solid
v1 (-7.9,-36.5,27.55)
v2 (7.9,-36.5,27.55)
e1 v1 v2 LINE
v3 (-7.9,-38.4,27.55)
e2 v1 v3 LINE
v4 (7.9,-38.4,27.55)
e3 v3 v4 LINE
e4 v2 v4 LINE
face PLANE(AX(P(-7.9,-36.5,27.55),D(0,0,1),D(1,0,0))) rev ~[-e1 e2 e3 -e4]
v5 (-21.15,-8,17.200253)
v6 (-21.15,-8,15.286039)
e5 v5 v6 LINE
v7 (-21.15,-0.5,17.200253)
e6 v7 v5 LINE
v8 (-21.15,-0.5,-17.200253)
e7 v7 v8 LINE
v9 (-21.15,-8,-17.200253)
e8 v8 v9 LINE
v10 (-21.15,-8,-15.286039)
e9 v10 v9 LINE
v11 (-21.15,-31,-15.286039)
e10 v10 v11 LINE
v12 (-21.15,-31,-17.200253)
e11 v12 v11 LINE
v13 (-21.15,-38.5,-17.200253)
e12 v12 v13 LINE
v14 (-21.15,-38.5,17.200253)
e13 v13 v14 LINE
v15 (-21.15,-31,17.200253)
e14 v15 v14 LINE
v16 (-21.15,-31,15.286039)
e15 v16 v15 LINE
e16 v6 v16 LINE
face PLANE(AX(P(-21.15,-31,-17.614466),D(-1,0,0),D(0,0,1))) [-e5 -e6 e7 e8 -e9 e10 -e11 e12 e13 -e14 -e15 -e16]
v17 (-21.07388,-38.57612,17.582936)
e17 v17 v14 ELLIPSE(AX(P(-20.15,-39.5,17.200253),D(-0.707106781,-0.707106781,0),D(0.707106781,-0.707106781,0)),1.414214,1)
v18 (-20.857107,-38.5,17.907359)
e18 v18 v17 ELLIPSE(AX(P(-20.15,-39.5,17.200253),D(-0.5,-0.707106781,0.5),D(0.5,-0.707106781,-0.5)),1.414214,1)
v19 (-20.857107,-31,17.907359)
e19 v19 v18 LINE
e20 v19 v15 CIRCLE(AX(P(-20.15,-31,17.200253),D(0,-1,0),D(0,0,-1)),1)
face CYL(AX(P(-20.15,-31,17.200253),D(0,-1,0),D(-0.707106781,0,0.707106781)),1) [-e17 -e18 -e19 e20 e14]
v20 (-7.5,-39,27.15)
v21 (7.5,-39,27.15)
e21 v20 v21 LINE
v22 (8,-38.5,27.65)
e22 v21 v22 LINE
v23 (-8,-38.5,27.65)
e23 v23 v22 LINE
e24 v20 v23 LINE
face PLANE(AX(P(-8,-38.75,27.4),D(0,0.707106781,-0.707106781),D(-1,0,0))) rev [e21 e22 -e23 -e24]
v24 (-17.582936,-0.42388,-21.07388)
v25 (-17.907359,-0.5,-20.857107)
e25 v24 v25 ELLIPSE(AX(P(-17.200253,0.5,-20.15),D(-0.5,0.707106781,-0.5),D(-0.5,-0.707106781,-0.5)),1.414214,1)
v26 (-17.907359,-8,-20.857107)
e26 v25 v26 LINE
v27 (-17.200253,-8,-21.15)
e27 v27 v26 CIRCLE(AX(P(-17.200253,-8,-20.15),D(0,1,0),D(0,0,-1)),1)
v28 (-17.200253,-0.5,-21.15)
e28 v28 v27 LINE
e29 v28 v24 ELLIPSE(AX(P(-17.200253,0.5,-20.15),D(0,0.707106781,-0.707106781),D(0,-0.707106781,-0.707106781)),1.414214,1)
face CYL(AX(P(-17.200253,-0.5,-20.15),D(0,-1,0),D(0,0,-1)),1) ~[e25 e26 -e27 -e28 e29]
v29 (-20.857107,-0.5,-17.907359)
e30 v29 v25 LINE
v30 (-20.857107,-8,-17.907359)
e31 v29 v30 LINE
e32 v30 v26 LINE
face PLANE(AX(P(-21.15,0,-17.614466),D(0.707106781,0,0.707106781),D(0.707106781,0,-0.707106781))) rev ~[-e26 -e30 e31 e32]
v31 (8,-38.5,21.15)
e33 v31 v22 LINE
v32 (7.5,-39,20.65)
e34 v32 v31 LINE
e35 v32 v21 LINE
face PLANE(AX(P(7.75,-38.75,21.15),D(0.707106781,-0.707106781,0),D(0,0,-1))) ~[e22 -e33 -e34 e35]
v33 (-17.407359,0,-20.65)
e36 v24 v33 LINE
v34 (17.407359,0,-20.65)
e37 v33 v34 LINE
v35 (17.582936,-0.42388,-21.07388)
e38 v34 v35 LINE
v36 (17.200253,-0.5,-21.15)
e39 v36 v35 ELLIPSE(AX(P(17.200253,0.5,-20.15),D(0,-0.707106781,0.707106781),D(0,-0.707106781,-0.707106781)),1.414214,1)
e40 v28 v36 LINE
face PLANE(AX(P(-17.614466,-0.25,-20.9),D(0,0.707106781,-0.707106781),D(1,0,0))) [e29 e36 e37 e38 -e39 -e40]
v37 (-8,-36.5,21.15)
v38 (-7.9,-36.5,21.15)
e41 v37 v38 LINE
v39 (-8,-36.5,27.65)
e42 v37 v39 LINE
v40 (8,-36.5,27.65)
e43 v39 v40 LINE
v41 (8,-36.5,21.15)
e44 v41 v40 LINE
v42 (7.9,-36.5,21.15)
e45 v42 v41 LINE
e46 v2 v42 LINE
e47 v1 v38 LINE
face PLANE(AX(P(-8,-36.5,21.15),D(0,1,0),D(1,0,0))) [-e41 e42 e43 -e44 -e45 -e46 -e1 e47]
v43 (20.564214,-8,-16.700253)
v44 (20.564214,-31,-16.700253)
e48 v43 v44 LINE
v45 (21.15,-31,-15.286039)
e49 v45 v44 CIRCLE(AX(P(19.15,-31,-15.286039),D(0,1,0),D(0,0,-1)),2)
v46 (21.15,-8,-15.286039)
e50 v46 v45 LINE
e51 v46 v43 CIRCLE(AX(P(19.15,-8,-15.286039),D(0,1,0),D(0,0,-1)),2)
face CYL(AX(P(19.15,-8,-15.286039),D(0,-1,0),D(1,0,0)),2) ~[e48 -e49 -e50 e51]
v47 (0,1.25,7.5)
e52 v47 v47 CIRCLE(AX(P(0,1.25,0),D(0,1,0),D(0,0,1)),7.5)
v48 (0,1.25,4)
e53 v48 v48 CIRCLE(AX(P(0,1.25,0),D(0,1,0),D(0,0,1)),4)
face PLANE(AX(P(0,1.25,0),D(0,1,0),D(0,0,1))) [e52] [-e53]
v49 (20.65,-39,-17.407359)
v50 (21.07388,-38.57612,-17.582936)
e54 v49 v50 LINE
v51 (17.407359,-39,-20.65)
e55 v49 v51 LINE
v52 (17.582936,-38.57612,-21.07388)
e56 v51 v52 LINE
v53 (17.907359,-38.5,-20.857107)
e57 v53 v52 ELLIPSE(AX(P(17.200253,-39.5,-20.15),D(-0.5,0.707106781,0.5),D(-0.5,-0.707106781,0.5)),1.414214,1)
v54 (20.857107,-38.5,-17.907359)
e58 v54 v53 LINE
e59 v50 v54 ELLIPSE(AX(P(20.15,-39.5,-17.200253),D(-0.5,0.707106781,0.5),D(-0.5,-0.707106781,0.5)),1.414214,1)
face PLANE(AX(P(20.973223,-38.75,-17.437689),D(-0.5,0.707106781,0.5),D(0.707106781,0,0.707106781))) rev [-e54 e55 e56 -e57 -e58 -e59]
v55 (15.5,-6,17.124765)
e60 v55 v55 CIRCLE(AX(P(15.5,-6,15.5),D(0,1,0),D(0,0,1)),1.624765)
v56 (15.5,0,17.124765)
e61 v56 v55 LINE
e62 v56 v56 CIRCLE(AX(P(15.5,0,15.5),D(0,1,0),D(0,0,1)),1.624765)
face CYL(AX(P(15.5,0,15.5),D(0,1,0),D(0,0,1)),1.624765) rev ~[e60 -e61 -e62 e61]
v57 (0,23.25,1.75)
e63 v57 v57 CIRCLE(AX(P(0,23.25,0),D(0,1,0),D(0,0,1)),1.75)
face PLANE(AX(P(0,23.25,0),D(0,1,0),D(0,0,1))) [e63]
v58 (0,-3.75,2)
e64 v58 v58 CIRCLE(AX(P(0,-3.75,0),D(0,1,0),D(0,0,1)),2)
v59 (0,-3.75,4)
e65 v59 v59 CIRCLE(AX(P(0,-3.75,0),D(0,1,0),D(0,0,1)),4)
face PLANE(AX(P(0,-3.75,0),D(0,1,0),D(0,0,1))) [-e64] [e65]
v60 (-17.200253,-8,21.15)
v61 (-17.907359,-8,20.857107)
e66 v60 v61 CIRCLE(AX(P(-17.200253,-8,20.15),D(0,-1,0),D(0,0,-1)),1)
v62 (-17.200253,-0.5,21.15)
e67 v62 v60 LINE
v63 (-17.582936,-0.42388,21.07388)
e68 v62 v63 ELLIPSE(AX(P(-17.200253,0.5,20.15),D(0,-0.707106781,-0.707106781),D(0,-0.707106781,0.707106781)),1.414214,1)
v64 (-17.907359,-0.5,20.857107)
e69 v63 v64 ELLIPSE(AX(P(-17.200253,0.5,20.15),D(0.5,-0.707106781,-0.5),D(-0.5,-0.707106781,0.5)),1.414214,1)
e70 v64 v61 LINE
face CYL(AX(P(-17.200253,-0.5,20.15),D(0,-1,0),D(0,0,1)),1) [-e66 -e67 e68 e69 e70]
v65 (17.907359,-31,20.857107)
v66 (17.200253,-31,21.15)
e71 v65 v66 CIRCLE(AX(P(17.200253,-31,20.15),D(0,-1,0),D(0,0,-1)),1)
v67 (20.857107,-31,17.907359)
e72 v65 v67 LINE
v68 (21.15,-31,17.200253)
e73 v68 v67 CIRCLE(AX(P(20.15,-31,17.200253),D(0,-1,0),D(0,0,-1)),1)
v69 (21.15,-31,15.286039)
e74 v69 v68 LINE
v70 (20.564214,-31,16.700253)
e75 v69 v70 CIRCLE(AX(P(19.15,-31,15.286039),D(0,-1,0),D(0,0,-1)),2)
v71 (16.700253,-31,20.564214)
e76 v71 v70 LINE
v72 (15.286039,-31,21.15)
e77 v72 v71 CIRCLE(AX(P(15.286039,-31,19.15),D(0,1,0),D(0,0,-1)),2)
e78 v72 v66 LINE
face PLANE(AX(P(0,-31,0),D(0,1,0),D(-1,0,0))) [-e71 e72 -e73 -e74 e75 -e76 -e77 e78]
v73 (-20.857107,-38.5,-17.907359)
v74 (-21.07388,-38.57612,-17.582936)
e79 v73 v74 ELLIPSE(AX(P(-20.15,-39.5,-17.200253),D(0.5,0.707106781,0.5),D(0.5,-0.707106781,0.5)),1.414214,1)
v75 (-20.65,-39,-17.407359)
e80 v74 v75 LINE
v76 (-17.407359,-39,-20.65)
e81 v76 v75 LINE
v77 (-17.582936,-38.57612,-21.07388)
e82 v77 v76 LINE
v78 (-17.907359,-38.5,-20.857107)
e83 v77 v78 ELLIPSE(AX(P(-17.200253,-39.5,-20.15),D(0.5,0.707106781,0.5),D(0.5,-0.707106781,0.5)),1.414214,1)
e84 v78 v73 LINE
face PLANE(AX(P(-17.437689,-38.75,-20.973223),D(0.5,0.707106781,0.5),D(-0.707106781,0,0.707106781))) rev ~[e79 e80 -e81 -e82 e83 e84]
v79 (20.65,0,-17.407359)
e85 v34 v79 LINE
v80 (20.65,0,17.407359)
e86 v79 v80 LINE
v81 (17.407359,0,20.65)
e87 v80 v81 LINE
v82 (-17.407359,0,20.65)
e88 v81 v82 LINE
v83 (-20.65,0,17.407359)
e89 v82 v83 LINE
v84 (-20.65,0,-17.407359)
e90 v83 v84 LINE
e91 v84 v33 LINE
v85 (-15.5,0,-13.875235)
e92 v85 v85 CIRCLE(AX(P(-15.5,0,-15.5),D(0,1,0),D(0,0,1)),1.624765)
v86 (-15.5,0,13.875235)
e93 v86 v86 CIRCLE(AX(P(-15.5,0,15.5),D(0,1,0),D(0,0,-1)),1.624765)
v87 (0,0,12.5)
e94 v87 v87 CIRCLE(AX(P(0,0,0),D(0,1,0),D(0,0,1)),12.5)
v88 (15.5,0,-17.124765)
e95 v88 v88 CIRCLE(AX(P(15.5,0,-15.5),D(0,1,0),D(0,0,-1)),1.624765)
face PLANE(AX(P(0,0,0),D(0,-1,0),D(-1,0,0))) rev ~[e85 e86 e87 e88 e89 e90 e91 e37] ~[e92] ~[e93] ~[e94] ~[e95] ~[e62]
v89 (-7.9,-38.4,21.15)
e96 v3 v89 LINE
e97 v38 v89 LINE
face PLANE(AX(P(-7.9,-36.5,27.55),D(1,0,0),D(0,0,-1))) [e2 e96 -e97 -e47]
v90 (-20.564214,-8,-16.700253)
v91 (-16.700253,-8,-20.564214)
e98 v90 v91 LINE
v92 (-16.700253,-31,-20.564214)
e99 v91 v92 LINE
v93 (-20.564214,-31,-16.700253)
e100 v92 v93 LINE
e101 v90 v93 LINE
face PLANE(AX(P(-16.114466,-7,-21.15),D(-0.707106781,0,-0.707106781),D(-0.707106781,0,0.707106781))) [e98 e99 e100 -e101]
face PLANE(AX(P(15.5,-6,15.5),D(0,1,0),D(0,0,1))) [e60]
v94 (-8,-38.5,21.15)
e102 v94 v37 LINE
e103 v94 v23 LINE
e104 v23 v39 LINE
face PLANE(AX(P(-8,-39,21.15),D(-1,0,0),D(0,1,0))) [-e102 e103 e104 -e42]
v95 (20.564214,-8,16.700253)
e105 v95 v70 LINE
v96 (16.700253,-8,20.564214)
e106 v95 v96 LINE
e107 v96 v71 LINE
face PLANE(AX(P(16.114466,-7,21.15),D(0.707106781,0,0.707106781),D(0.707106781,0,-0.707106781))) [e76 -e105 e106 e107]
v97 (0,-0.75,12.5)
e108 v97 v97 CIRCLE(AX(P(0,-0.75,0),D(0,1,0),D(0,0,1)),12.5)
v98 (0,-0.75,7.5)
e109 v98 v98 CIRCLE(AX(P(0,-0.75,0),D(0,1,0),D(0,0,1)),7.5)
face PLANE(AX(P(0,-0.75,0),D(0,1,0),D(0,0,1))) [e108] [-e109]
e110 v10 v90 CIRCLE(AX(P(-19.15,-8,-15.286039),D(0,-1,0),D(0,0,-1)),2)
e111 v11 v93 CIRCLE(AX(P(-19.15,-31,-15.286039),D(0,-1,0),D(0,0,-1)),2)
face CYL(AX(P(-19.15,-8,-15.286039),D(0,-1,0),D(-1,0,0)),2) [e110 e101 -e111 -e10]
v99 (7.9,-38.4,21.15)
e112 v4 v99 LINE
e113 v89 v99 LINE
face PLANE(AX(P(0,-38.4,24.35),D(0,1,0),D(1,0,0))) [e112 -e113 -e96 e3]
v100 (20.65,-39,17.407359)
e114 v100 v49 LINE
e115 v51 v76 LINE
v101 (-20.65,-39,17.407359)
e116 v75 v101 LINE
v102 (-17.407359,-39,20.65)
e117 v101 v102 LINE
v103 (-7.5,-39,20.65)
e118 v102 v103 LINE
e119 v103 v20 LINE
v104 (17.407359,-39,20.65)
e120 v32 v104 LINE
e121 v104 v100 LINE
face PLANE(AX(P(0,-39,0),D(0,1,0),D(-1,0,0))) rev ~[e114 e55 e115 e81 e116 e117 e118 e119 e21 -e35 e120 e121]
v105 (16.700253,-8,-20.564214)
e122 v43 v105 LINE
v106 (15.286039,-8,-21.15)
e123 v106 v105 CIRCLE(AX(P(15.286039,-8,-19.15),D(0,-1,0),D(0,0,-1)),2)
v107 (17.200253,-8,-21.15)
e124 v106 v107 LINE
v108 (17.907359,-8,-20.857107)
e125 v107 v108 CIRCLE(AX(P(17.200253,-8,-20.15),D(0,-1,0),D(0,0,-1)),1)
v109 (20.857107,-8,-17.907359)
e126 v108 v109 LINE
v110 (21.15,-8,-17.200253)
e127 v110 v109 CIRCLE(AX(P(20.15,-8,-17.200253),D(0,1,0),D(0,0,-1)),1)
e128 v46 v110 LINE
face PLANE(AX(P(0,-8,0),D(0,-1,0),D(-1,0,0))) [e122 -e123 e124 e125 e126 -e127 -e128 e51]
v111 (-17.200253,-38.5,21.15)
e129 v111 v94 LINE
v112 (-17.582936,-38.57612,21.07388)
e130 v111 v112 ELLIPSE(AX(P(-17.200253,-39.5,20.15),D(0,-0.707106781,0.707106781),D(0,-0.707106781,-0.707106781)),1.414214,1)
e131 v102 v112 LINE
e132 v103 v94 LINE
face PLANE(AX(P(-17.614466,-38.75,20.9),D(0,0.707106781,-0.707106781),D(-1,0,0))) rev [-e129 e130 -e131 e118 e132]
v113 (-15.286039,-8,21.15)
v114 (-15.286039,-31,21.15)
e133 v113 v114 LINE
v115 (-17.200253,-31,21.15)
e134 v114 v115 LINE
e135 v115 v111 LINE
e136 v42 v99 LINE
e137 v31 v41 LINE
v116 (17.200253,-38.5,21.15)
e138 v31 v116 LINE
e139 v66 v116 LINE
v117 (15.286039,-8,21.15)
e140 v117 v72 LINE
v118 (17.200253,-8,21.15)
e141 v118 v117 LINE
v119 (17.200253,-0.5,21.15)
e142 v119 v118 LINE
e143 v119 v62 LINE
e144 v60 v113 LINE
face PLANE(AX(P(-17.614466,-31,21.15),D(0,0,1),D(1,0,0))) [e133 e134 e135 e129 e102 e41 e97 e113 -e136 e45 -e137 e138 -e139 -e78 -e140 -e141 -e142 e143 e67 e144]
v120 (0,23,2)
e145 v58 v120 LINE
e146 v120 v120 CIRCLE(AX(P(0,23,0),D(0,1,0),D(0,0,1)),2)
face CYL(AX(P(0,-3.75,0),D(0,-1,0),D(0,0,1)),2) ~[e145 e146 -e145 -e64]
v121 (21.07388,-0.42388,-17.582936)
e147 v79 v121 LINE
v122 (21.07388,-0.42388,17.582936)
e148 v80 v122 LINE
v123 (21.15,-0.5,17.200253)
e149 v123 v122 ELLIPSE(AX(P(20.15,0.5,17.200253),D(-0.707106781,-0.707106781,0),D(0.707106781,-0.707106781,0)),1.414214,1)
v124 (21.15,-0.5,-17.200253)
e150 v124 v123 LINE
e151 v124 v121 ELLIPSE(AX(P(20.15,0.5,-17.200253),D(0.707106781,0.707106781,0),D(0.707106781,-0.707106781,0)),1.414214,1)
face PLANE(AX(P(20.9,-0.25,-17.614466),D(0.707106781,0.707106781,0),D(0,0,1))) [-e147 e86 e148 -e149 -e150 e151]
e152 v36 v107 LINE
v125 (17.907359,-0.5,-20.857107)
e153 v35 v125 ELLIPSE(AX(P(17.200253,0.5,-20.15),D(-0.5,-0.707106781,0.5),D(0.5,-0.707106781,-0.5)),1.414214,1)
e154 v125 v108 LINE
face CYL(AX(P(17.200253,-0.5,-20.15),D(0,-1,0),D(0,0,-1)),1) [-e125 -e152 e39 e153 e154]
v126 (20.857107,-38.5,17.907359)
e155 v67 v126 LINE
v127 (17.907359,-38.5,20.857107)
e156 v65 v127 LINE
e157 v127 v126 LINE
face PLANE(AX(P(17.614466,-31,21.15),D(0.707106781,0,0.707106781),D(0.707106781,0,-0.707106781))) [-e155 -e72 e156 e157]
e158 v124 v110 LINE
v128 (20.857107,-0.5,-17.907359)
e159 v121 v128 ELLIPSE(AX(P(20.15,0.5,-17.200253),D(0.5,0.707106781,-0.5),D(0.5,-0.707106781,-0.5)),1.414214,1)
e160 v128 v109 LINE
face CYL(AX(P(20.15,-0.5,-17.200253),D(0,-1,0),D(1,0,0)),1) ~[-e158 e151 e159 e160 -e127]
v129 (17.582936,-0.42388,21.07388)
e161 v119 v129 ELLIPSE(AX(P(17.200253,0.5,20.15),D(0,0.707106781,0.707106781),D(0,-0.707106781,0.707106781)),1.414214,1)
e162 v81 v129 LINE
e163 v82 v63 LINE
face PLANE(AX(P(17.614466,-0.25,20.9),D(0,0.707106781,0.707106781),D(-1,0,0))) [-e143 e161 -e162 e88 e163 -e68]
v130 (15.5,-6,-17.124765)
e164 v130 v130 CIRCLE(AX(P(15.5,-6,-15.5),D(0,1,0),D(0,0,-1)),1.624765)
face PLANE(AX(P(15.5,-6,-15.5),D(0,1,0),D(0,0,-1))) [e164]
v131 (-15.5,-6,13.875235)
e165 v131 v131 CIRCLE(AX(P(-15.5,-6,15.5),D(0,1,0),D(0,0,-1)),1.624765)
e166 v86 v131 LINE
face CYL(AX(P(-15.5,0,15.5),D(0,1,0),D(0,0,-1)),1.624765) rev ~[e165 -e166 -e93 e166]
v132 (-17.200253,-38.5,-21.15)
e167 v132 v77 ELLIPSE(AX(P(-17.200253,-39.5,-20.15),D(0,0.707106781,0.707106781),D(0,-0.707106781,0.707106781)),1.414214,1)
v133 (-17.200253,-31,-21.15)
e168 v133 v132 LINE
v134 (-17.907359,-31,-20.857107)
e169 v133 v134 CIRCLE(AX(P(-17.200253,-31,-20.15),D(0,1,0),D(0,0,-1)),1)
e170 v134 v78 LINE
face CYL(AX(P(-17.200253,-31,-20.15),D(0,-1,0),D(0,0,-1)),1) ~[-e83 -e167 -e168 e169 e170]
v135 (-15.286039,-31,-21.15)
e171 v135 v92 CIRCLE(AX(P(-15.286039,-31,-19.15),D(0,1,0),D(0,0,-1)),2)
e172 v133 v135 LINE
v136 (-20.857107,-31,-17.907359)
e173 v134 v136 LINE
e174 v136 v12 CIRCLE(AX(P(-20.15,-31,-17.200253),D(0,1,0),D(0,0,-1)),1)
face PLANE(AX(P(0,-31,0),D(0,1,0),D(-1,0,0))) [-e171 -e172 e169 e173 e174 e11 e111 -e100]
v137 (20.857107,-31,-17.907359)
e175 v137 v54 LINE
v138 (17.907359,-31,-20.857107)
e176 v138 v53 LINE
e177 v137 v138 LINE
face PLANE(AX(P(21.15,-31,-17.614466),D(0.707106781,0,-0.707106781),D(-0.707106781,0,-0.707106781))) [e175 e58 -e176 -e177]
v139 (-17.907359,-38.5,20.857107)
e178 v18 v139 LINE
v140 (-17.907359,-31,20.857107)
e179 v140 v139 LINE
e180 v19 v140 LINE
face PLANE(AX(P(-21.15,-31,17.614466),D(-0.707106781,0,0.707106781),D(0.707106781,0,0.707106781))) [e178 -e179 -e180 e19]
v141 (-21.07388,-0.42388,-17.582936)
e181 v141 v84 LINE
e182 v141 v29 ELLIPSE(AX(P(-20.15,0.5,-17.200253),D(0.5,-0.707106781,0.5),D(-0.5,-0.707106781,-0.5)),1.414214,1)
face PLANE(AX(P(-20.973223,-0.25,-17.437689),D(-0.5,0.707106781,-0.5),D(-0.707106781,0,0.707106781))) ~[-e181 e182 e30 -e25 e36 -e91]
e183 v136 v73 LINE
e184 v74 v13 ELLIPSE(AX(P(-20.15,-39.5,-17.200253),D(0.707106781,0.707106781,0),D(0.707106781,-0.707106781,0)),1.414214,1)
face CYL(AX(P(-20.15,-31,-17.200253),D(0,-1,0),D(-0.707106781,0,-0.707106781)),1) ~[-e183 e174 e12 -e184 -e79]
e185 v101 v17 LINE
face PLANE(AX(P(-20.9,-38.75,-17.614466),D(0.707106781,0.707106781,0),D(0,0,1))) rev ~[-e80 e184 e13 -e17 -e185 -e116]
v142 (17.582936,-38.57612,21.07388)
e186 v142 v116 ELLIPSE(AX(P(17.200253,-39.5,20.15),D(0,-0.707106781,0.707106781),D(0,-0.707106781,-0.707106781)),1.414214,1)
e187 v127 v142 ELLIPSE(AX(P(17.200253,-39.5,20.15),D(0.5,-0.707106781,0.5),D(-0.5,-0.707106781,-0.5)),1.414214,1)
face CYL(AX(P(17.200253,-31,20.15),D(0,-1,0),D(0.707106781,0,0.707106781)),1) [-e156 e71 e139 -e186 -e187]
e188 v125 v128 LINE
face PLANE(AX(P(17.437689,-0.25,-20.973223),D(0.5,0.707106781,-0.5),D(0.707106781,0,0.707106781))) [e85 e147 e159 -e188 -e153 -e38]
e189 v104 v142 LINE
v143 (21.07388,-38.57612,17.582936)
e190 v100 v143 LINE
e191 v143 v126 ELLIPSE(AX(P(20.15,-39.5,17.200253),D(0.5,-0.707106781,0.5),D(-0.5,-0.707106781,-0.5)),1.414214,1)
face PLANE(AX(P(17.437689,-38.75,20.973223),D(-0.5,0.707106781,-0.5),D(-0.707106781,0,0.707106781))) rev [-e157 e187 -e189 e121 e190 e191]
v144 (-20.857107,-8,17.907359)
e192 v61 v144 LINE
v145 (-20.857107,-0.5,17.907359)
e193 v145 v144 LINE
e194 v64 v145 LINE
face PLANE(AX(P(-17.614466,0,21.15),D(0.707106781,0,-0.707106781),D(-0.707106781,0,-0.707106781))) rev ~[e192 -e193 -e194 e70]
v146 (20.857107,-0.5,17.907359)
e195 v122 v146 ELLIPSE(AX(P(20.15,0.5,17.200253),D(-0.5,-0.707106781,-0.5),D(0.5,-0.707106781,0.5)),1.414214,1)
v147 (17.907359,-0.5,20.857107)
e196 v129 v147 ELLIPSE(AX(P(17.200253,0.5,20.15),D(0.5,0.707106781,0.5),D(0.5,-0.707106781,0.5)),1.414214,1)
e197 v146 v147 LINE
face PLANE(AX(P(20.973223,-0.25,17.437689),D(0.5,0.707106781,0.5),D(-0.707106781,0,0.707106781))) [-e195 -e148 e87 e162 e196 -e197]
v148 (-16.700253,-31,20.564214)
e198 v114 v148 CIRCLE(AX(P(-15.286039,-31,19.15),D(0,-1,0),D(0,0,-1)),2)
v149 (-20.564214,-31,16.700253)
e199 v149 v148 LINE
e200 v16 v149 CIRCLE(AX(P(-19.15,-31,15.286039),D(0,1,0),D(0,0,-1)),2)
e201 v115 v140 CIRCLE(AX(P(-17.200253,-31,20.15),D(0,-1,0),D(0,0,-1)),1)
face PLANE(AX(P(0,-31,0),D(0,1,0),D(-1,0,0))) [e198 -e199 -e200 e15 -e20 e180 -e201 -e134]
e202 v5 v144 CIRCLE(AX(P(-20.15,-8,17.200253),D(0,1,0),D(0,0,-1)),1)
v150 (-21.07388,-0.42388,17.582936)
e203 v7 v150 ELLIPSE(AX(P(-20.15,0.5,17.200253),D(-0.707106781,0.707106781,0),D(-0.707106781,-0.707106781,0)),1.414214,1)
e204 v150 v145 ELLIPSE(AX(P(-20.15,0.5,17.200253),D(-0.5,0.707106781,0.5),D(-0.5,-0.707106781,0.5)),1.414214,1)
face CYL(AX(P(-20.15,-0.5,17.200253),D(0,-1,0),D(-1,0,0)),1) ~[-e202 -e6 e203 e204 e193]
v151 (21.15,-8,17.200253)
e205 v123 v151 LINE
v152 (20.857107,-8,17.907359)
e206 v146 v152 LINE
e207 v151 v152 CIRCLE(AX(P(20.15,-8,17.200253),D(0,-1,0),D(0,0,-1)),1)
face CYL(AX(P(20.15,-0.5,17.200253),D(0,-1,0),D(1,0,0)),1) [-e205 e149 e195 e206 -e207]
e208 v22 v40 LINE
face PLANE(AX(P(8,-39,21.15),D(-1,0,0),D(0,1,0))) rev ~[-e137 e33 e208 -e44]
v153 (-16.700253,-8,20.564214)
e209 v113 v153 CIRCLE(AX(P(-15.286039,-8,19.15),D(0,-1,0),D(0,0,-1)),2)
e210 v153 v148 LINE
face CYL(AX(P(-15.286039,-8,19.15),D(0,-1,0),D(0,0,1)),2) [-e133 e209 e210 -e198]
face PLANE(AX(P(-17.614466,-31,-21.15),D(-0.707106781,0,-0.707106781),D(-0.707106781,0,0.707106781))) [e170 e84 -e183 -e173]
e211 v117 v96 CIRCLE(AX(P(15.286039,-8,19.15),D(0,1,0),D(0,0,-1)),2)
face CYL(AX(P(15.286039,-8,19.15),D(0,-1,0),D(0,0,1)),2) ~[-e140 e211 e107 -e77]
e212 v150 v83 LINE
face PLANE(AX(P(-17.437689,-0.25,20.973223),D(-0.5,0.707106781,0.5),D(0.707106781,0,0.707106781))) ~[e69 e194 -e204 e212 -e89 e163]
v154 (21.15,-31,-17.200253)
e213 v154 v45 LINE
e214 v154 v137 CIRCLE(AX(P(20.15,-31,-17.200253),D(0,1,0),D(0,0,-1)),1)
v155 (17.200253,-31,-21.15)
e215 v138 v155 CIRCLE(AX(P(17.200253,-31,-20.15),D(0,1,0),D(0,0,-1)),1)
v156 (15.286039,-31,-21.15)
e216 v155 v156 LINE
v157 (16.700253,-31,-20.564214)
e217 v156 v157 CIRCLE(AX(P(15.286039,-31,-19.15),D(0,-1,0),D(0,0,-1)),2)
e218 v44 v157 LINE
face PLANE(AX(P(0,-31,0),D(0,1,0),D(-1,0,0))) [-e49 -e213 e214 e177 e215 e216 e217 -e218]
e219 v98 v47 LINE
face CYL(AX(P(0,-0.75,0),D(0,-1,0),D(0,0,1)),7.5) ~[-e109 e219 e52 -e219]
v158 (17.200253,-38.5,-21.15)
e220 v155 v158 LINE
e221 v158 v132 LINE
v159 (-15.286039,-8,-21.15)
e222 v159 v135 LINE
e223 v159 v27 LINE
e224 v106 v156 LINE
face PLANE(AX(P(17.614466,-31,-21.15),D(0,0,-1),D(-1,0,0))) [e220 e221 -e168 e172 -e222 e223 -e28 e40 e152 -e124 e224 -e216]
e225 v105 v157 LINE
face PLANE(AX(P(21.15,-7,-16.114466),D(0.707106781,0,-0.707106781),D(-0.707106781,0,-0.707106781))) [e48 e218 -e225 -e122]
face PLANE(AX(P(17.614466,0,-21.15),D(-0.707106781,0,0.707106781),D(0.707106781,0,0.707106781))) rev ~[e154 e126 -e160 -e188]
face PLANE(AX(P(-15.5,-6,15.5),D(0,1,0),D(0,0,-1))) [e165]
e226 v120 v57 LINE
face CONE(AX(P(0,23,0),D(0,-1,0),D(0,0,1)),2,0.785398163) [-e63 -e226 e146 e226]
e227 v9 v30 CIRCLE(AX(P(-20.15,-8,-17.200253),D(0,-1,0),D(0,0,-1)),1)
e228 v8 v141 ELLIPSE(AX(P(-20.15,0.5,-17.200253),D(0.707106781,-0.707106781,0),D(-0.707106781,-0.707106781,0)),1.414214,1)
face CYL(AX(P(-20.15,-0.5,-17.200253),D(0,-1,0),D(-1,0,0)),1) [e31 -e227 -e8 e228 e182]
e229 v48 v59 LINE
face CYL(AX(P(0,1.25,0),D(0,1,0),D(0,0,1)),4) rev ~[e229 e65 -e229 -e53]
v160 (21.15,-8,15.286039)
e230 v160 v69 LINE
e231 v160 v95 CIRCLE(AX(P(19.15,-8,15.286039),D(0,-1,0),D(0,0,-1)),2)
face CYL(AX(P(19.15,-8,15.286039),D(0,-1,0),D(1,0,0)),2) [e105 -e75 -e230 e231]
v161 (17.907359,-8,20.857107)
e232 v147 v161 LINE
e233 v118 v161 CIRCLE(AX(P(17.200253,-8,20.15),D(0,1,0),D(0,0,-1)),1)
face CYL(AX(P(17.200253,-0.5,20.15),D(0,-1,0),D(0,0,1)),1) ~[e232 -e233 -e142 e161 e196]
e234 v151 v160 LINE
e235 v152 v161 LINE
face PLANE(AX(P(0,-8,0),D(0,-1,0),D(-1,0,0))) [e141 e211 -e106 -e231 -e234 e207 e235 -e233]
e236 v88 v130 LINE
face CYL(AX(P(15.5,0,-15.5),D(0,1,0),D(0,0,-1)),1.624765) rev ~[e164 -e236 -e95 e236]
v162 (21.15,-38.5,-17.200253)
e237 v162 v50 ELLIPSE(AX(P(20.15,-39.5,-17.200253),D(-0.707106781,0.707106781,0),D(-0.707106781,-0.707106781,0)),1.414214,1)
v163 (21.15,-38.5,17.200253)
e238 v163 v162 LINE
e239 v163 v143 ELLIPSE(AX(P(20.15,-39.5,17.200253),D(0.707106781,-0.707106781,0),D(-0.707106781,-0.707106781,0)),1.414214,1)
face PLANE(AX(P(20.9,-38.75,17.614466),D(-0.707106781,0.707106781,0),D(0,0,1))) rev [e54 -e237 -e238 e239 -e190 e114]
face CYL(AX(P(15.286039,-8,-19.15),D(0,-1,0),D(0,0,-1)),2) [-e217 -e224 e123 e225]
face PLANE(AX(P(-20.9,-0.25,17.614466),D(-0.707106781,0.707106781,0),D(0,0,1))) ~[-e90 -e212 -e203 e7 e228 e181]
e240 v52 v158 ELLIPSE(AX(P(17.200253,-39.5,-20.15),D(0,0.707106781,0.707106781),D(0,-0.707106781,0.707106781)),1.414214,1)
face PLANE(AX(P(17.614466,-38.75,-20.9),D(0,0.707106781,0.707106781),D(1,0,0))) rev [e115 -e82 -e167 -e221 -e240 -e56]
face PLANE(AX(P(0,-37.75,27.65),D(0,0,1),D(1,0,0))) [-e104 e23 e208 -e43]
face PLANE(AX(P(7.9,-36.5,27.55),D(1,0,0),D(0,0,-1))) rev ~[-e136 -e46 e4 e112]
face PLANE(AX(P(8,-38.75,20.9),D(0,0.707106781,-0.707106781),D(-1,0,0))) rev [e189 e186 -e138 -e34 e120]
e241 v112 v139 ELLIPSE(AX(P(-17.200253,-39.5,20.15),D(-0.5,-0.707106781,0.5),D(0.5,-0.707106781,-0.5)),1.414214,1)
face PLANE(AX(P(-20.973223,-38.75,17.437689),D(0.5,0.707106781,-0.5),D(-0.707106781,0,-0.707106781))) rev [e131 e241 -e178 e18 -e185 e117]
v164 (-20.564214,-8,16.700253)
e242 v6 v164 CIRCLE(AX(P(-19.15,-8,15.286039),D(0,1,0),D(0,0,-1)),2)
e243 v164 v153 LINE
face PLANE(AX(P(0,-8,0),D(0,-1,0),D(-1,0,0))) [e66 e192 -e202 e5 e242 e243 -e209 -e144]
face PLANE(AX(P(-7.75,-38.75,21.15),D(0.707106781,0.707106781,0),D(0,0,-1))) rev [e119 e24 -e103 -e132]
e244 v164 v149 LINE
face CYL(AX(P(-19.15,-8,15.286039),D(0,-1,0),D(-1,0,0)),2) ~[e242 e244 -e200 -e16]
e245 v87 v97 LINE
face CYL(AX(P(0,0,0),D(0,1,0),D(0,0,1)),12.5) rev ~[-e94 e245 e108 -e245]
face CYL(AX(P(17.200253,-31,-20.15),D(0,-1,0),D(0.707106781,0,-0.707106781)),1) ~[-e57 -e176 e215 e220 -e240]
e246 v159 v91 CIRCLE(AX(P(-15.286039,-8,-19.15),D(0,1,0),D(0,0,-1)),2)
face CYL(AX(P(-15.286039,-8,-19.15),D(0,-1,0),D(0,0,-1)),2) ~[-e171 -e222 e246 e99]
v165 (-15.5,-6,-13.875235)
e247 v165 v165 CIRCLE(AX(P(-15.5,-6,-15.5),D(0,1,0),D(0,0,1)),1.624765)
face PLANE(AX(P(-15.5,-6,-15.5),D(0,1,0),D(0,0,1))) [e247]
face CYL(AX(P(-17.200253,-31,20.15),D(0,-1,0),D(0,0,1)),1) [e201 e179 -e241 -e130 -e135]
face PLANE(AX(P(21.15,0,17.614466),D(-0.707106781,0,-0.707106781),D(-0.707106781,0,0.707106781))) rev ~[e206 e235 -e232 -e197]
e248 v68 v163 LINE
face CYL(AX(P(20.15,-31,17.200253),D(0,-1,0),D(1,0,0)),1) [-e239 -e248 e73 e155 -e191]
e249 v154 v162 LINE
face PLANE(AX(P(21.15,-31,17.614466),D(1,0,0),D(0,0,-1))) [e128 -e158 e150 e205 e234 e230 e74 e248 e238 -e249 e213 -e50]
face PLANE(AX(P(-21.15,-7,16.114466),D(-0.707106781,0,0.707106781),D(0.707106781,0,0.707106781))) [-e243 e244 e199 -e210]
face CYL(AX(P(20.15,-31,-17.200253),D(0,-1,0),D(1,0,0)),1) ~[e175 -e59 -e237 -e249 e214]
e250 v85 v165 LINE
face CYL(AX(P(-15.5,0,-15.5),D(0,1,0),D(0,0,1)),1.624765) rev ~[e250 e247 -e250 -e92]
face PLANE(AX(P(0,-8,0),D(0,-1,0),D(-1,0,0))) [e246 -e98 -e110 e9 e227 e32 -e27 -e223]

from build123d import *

# Parameters (mm, degrees)
BOSS_EXTRUDE1_DEPTH  = 8
SKETCH2_R            = 1.624765057
CUT_EXTRUDE1_DEPTH   = 6
CHAMFER1_SIZE        = 0.5
SKETCH3_W            = 32.228932188
SKETCH3_H            = 1
CUT_EXTRUDE2_DEPTH   = 48.964700562
SKETCH4_W            = 32.228932188
SKETCH4_H            = 1
CUT_EXTRUDE3_DEPTH   = 48.964700562
CUT_EXTRUDE4_DEPTH   = 1
MIRROR2_COPY_1_DEPTH = 1
BOSS_EXTRUDE2_DEPTH  = 24
BOSS_EXTRUDE4_DEPTH  = 8
SKETCH22_W           = 16
SKETCH22_H           = 2.5
BOSS_EXTRUDE5_DEPTH  = 6.5
CHAMFER3_SIZE        = 0.5
SKETCH23_W           = 15.8
SKETCH23_H           = 6.4
CUT_EXTRUDE5_DEPTH   = 1.9
SKETCH24_R           = 12.5
CUT_EXTRUDE6_DEPTH   = 0.75
SKETCH25_R           = 7.5
BOSS_EXTRUDE6_DEPTH  = 2
SKETCH26_R           = 4
CUT_EXTRUDE7_DEPTH   = 5
SKETCH27_R           = 2
BOSS_EXTRUDE7_DEPTH  = 27
CHAMFER5_SIZE        = 0.25
FILLET1_R            = 2
FILLET3_R            = 1
FILLET4_R            = 1


with BuildPart() as part:
    # Sketch1 → Boss-Extrude1 (new body)
    with BuildSketch(Plane(origin=(0, 0, 0), x_dir=(1, 0, 0), z_dir=(0, 1, 0))):
        Polygon((-21.15, -17.614466094), (-21.15, 17.614466094), (-17.614466094, 21.15), (17.614466094, 21.15), (21.15, 17.614466094), (21.15, -17.614466094), (17.614466094, -21.15), (-17.614466094, -21.15), align=None)
    extrude(amount=-BOSS_EXTRUDE1_DEPTH)

    # Sketch2 → Cut-Extrude1 (cut)
    with BuildSketch(Plane(origin=(0, 0, 0), x_dir=(1, 0, 0), z_dir=(0, 1, 0))):
        with Locations(Location((-15.5, 15.5, 0), (0, 0, 270))):
            Circle(SKETCH2_R)
        with Locations(Location((15.5, 15.5, 0), (0, 0, 90))):
            Circle(SKETCH2_R)
        with Locations(Location((15.5, -15.5, 0), (0, 0, 270))):
            Circle(SKETCH2_R)
        with Locations(Location((-15.5, -15.5, 0), (0, 0, 90))):
            Circle(SKETCH2_R)
    extrude(amount=-CUT_EXTRUDE1_DEPTH, mode=Mode.SUBTRACT)

    # Chamfer1
    chamfer1_edges = [part.edges().sort_by_distance(p)[0] for p in [
        (21.15, 0, 0),
        (19.382233047, 0, 19.382233047),
        (0, 0, 21.15),
        (-19.382233047, 0, 19.382233047),
        (-21.15, 0, 0),
        (-19.382233047, 0, -19.382233047),
        (0, 0, -21.15),
        (19.382233047, 0, -19.382233047),
    ]]
    chamfer(chamfer1_edges, length=CHAMFER1_SIZE)

    # Sketch3 → Cut-Extrude2 (cut, through all)
    with BuildSketch(Plane(origin=(21.15, 0, 0), x_dir=(0, 0, -1), z_dir=(1, 0, 0))):
        with Locations((0, -7.5)):
            Rectangle(SKETCH3_W, SKETCH3_H)
    extrude(amount=-CUT_EXTRUDE2_DEPTH, mode=Mode.SUBTRACT)

    # Sketch4 → Cut-Extrude3 (cut, through all)
    with BuildSketch(Plane.XY.offset(21.15)):
        with Locations((0, -7.5)):
            Rectangle(SKETCH4_W, SKETCH4_H)
    extrude(amount=-CUT_EXTRUDE3_DEPTH, mode=Mode.SUBTRACT)

    # Sketch5 → Cut-Extrude4 (cut)
    with BuildSketch(Plane.XZ.offset(8)):
        Polygon((-21.15, 16.114466094), (-16.114466094, 21.15), (-16.114466094, 16.114466094), align=None)
    cut_extrude4 = extrude(amount=-CUT_EXTRUDE4_DEPTH, mode=Mode.SUBTRACT)

    # Mirror1: Cut-Extrude4 across plane
    add(cut_extrude4.mirror(Plane(origin=(0, 0, 0), x_dir=(0, 0, 1), z_dir=(1, 0, 0))), mode=Mode.SUBTRACT)

    # Mirror2: Cut-Extrude4 across plane
    add(cut_extrude4.mirror(Plane.XY), mode=Mode.SUBTRACT)

    # Mirror2 copy 1 sketch → Mirror2 copy 1 (cut)
    with BuildSketch(Plane(origin=(0, -8, 0), x_dir=(-1, 0, 0), z_dir=(0, -1, 0))):
        Polygon((-21.15, 16.114466094), (-16.114466094, 21.15), (-16.114466094, 16.114466094), align=None)
    extrude(amount=-MIRROR2_COPY_1_DEPTH, mode=Mode.SUBTRACT)

    # Sketch6 → Boss-Extrude2 (add)
    with BuildSketch(Plane.XZ.offset(7)):
        Polygon((-21.15, -16.114466094), (-21.15, 16.114466094), (-16.114466094, 21.15), (16.114466094, 21.15), (21.15, 16.114466094), (21.15, -16.114466094), (16.114466094, -21.15), (-16.114466094, -21.15), align=None)
    extrude(amount=BOSS_EXTRUDE2_DEPTH)

    # Sketch16 → Boss-Extrude4 (add)
    with BuildSketch(Plane.XZ.offset(31)):
        Polygon((-21.15, -17.614466094), (-21.15, 17.614466094), (-17.614466094, 21.15), (17.614466094, 21.15), (21.15, 17.614466094), (21.15, -17.614466094), (17.614466094, -21.15), (-17.614466094, -21.15), align=None)
    extrude(amount=BOSS_EXTRUDE4_DEPTH)

    # Sketch22 → Boss-Extrude5 (add)
    with BuildSketch(Plane.XY.offset(21.15)):
        with Locations((0, -37.75)):
            Rectangle(SKETCH22_W, SKETCH22_H)
    extrude(amount=BOSS_EXTRUDE5_DEPTH)

    # Chamfer3
    chamfer3_edges = [part.edges().sort_by_distance(p)[0] for p in [
        (-19.382233047, -39, -19.382233047),
        (0, -39, -21.15),
        (19.382233047, -39, -19.382233047),
        (21.15, -39, 0),
        (19.382233047, -39, 19.382233047),
        (12.807233047, -39, 21.15),
        (-19.382233047, -39, 19.382233047),
        (-21.15, -39, 0),
        (-12.807233047, -39, 21.15),
        (-8, -39, 24.4),
        (8, -39, 24.4),
        (0, -39, 27.65),
    ]]
    chamfer(chamfer3_edges, length=CHAMFER3_SIZE)

    # Sketch23 → Cut-Extrude5 (cut)
    with BuildSketch(Plane(origin=(0, -36.5, 0), x_dir=(1, 0, 0), z_dir=(0, 1, 0))):
        with Locations((0, -24.35)):
            Rectangle(SKETCH23_W, SKETCH23_H)
    extrude(amount=-CUT_EXTRUDE5_DEPTH, mode=Mode.SUBTRACT)

    # Sketch24 → Cut-Extrude6 (cut)
    with BuildSketch(Plane(origin=(0, 0, 0), x_dir=(1, 0, 0), z_dir=(0, 1, 0))):
        with Locations(Location((0, 0, 0), (0, 0, 270))):
            Circle(SKETCH24_R)
    extrude(amount=-CUT_EXTRUDE6_DEPTH, mode=Mode.SUBTRACT)

    # Sketch25 → Boss-Extrude6 (add)
    with BuildSketch(Plane(origin=(0, -0.75, 0), x_dir=(1, 0, 0), z_dir=(0, 1, 0))):
        with Locations(Location((0, 0, 0), (0, 0, 270))):
            Circle(SKETCH25_R)
    extrude(amount=BOSS_EXTRUDE6_DEPTH)

    # Sketch26 → Cut-Extrude7 (cut)
    with BuildSketch(Plane(origin=(0, 1.25, 0), x_dir=(1, 0, 0), z_dir=(0, 1, 0))):
        with Locations(Location((0, 0, 0), (0, 0, 270))):
            Circle(SKETCH26_R)
    extrude(amount=-CUT_EXTRUDE7_DEPTH, mode=Mode.SUBTRACT)

    # Sketch27 → Boss-Extrude7 (add)
    with BuildSketch(Plane(origin=(0, -3.75, 0), x_dir=(1, 0, 0), z_dir=(0, 1, 0))):
        with Locations(Location((0, 0, 0), (0, 0, 270))):
            Circle(SKETCH27_R)
    extrude(amount=BOSS_EXTRUDE7_DEPTH)

    # Chamfer5
    chamfer5_edges = [part.edges().sort_by_distance(p)[0] for p in [
        (0, 23.25, -2),
    ]]
    chamfer(chamfer5_edges, length=CHAMFER5_SIZE)

    # Fillet1
    fillet1_edges = [part.edges().sort_by_distance(p)[0] for p in [
        (-21.15, -19.5, -16.114466094),
        (-16.114466094, -19.5, -21.15),
        (16.114466094, -19.5, -21.15),
        (21.15, -19.5, -16.114466094),
        (21.15, -19.5, 16.114466094),
        (16.114466094, -19.5, 21.15),
        (-16.114466094, -19.5, 21.15),
        (-21.15, -19.5, 16.114466094),
    ]]
    fillet(fillet1_edges, radius=FILLET1_R)

    # Fillet3
    fillet3_edges = [part.edges().sort_by_distance(p)[0] for p in [
        (-21.15, -4.25, 17.614466094),
        (-21.15, -4.25, -17.614466094),
        (-17.614466094, -4.25, -21.15),
        (17.614466094, -4.25, -21.15),
        (21.15, -4.25, -17.614466094),
        (21.15, -4.25, 17.614466094),
        (17.614466094, -4.25, 21.15),
        (-17.614466094, -4.25, 21.15),
    ]]
    fillet(fillet3_edges, radius=FILLET3_R)

    # Fillet4
    fillet4_edges = [part.edges().sort_by_distance(p)[0] for p in [
        (-21.15, -34.75, -17.614466094),
        (-21.15, -34.75, 17.614466094),
        (-17.614466094, -34.75, 21.15),
        (17.614466094, -34.75, 21.15),
        (21.15, -34.75, 17.614466094),
        (21.15, -34.75, -17.614466094),
        (17.614466094, -34.75, -21.15),
        (-17.614466094, -34.75, -21.15),
    ]]
    fillet(fillet4_edges, radius=FILLET4_R)


solid = part.part
